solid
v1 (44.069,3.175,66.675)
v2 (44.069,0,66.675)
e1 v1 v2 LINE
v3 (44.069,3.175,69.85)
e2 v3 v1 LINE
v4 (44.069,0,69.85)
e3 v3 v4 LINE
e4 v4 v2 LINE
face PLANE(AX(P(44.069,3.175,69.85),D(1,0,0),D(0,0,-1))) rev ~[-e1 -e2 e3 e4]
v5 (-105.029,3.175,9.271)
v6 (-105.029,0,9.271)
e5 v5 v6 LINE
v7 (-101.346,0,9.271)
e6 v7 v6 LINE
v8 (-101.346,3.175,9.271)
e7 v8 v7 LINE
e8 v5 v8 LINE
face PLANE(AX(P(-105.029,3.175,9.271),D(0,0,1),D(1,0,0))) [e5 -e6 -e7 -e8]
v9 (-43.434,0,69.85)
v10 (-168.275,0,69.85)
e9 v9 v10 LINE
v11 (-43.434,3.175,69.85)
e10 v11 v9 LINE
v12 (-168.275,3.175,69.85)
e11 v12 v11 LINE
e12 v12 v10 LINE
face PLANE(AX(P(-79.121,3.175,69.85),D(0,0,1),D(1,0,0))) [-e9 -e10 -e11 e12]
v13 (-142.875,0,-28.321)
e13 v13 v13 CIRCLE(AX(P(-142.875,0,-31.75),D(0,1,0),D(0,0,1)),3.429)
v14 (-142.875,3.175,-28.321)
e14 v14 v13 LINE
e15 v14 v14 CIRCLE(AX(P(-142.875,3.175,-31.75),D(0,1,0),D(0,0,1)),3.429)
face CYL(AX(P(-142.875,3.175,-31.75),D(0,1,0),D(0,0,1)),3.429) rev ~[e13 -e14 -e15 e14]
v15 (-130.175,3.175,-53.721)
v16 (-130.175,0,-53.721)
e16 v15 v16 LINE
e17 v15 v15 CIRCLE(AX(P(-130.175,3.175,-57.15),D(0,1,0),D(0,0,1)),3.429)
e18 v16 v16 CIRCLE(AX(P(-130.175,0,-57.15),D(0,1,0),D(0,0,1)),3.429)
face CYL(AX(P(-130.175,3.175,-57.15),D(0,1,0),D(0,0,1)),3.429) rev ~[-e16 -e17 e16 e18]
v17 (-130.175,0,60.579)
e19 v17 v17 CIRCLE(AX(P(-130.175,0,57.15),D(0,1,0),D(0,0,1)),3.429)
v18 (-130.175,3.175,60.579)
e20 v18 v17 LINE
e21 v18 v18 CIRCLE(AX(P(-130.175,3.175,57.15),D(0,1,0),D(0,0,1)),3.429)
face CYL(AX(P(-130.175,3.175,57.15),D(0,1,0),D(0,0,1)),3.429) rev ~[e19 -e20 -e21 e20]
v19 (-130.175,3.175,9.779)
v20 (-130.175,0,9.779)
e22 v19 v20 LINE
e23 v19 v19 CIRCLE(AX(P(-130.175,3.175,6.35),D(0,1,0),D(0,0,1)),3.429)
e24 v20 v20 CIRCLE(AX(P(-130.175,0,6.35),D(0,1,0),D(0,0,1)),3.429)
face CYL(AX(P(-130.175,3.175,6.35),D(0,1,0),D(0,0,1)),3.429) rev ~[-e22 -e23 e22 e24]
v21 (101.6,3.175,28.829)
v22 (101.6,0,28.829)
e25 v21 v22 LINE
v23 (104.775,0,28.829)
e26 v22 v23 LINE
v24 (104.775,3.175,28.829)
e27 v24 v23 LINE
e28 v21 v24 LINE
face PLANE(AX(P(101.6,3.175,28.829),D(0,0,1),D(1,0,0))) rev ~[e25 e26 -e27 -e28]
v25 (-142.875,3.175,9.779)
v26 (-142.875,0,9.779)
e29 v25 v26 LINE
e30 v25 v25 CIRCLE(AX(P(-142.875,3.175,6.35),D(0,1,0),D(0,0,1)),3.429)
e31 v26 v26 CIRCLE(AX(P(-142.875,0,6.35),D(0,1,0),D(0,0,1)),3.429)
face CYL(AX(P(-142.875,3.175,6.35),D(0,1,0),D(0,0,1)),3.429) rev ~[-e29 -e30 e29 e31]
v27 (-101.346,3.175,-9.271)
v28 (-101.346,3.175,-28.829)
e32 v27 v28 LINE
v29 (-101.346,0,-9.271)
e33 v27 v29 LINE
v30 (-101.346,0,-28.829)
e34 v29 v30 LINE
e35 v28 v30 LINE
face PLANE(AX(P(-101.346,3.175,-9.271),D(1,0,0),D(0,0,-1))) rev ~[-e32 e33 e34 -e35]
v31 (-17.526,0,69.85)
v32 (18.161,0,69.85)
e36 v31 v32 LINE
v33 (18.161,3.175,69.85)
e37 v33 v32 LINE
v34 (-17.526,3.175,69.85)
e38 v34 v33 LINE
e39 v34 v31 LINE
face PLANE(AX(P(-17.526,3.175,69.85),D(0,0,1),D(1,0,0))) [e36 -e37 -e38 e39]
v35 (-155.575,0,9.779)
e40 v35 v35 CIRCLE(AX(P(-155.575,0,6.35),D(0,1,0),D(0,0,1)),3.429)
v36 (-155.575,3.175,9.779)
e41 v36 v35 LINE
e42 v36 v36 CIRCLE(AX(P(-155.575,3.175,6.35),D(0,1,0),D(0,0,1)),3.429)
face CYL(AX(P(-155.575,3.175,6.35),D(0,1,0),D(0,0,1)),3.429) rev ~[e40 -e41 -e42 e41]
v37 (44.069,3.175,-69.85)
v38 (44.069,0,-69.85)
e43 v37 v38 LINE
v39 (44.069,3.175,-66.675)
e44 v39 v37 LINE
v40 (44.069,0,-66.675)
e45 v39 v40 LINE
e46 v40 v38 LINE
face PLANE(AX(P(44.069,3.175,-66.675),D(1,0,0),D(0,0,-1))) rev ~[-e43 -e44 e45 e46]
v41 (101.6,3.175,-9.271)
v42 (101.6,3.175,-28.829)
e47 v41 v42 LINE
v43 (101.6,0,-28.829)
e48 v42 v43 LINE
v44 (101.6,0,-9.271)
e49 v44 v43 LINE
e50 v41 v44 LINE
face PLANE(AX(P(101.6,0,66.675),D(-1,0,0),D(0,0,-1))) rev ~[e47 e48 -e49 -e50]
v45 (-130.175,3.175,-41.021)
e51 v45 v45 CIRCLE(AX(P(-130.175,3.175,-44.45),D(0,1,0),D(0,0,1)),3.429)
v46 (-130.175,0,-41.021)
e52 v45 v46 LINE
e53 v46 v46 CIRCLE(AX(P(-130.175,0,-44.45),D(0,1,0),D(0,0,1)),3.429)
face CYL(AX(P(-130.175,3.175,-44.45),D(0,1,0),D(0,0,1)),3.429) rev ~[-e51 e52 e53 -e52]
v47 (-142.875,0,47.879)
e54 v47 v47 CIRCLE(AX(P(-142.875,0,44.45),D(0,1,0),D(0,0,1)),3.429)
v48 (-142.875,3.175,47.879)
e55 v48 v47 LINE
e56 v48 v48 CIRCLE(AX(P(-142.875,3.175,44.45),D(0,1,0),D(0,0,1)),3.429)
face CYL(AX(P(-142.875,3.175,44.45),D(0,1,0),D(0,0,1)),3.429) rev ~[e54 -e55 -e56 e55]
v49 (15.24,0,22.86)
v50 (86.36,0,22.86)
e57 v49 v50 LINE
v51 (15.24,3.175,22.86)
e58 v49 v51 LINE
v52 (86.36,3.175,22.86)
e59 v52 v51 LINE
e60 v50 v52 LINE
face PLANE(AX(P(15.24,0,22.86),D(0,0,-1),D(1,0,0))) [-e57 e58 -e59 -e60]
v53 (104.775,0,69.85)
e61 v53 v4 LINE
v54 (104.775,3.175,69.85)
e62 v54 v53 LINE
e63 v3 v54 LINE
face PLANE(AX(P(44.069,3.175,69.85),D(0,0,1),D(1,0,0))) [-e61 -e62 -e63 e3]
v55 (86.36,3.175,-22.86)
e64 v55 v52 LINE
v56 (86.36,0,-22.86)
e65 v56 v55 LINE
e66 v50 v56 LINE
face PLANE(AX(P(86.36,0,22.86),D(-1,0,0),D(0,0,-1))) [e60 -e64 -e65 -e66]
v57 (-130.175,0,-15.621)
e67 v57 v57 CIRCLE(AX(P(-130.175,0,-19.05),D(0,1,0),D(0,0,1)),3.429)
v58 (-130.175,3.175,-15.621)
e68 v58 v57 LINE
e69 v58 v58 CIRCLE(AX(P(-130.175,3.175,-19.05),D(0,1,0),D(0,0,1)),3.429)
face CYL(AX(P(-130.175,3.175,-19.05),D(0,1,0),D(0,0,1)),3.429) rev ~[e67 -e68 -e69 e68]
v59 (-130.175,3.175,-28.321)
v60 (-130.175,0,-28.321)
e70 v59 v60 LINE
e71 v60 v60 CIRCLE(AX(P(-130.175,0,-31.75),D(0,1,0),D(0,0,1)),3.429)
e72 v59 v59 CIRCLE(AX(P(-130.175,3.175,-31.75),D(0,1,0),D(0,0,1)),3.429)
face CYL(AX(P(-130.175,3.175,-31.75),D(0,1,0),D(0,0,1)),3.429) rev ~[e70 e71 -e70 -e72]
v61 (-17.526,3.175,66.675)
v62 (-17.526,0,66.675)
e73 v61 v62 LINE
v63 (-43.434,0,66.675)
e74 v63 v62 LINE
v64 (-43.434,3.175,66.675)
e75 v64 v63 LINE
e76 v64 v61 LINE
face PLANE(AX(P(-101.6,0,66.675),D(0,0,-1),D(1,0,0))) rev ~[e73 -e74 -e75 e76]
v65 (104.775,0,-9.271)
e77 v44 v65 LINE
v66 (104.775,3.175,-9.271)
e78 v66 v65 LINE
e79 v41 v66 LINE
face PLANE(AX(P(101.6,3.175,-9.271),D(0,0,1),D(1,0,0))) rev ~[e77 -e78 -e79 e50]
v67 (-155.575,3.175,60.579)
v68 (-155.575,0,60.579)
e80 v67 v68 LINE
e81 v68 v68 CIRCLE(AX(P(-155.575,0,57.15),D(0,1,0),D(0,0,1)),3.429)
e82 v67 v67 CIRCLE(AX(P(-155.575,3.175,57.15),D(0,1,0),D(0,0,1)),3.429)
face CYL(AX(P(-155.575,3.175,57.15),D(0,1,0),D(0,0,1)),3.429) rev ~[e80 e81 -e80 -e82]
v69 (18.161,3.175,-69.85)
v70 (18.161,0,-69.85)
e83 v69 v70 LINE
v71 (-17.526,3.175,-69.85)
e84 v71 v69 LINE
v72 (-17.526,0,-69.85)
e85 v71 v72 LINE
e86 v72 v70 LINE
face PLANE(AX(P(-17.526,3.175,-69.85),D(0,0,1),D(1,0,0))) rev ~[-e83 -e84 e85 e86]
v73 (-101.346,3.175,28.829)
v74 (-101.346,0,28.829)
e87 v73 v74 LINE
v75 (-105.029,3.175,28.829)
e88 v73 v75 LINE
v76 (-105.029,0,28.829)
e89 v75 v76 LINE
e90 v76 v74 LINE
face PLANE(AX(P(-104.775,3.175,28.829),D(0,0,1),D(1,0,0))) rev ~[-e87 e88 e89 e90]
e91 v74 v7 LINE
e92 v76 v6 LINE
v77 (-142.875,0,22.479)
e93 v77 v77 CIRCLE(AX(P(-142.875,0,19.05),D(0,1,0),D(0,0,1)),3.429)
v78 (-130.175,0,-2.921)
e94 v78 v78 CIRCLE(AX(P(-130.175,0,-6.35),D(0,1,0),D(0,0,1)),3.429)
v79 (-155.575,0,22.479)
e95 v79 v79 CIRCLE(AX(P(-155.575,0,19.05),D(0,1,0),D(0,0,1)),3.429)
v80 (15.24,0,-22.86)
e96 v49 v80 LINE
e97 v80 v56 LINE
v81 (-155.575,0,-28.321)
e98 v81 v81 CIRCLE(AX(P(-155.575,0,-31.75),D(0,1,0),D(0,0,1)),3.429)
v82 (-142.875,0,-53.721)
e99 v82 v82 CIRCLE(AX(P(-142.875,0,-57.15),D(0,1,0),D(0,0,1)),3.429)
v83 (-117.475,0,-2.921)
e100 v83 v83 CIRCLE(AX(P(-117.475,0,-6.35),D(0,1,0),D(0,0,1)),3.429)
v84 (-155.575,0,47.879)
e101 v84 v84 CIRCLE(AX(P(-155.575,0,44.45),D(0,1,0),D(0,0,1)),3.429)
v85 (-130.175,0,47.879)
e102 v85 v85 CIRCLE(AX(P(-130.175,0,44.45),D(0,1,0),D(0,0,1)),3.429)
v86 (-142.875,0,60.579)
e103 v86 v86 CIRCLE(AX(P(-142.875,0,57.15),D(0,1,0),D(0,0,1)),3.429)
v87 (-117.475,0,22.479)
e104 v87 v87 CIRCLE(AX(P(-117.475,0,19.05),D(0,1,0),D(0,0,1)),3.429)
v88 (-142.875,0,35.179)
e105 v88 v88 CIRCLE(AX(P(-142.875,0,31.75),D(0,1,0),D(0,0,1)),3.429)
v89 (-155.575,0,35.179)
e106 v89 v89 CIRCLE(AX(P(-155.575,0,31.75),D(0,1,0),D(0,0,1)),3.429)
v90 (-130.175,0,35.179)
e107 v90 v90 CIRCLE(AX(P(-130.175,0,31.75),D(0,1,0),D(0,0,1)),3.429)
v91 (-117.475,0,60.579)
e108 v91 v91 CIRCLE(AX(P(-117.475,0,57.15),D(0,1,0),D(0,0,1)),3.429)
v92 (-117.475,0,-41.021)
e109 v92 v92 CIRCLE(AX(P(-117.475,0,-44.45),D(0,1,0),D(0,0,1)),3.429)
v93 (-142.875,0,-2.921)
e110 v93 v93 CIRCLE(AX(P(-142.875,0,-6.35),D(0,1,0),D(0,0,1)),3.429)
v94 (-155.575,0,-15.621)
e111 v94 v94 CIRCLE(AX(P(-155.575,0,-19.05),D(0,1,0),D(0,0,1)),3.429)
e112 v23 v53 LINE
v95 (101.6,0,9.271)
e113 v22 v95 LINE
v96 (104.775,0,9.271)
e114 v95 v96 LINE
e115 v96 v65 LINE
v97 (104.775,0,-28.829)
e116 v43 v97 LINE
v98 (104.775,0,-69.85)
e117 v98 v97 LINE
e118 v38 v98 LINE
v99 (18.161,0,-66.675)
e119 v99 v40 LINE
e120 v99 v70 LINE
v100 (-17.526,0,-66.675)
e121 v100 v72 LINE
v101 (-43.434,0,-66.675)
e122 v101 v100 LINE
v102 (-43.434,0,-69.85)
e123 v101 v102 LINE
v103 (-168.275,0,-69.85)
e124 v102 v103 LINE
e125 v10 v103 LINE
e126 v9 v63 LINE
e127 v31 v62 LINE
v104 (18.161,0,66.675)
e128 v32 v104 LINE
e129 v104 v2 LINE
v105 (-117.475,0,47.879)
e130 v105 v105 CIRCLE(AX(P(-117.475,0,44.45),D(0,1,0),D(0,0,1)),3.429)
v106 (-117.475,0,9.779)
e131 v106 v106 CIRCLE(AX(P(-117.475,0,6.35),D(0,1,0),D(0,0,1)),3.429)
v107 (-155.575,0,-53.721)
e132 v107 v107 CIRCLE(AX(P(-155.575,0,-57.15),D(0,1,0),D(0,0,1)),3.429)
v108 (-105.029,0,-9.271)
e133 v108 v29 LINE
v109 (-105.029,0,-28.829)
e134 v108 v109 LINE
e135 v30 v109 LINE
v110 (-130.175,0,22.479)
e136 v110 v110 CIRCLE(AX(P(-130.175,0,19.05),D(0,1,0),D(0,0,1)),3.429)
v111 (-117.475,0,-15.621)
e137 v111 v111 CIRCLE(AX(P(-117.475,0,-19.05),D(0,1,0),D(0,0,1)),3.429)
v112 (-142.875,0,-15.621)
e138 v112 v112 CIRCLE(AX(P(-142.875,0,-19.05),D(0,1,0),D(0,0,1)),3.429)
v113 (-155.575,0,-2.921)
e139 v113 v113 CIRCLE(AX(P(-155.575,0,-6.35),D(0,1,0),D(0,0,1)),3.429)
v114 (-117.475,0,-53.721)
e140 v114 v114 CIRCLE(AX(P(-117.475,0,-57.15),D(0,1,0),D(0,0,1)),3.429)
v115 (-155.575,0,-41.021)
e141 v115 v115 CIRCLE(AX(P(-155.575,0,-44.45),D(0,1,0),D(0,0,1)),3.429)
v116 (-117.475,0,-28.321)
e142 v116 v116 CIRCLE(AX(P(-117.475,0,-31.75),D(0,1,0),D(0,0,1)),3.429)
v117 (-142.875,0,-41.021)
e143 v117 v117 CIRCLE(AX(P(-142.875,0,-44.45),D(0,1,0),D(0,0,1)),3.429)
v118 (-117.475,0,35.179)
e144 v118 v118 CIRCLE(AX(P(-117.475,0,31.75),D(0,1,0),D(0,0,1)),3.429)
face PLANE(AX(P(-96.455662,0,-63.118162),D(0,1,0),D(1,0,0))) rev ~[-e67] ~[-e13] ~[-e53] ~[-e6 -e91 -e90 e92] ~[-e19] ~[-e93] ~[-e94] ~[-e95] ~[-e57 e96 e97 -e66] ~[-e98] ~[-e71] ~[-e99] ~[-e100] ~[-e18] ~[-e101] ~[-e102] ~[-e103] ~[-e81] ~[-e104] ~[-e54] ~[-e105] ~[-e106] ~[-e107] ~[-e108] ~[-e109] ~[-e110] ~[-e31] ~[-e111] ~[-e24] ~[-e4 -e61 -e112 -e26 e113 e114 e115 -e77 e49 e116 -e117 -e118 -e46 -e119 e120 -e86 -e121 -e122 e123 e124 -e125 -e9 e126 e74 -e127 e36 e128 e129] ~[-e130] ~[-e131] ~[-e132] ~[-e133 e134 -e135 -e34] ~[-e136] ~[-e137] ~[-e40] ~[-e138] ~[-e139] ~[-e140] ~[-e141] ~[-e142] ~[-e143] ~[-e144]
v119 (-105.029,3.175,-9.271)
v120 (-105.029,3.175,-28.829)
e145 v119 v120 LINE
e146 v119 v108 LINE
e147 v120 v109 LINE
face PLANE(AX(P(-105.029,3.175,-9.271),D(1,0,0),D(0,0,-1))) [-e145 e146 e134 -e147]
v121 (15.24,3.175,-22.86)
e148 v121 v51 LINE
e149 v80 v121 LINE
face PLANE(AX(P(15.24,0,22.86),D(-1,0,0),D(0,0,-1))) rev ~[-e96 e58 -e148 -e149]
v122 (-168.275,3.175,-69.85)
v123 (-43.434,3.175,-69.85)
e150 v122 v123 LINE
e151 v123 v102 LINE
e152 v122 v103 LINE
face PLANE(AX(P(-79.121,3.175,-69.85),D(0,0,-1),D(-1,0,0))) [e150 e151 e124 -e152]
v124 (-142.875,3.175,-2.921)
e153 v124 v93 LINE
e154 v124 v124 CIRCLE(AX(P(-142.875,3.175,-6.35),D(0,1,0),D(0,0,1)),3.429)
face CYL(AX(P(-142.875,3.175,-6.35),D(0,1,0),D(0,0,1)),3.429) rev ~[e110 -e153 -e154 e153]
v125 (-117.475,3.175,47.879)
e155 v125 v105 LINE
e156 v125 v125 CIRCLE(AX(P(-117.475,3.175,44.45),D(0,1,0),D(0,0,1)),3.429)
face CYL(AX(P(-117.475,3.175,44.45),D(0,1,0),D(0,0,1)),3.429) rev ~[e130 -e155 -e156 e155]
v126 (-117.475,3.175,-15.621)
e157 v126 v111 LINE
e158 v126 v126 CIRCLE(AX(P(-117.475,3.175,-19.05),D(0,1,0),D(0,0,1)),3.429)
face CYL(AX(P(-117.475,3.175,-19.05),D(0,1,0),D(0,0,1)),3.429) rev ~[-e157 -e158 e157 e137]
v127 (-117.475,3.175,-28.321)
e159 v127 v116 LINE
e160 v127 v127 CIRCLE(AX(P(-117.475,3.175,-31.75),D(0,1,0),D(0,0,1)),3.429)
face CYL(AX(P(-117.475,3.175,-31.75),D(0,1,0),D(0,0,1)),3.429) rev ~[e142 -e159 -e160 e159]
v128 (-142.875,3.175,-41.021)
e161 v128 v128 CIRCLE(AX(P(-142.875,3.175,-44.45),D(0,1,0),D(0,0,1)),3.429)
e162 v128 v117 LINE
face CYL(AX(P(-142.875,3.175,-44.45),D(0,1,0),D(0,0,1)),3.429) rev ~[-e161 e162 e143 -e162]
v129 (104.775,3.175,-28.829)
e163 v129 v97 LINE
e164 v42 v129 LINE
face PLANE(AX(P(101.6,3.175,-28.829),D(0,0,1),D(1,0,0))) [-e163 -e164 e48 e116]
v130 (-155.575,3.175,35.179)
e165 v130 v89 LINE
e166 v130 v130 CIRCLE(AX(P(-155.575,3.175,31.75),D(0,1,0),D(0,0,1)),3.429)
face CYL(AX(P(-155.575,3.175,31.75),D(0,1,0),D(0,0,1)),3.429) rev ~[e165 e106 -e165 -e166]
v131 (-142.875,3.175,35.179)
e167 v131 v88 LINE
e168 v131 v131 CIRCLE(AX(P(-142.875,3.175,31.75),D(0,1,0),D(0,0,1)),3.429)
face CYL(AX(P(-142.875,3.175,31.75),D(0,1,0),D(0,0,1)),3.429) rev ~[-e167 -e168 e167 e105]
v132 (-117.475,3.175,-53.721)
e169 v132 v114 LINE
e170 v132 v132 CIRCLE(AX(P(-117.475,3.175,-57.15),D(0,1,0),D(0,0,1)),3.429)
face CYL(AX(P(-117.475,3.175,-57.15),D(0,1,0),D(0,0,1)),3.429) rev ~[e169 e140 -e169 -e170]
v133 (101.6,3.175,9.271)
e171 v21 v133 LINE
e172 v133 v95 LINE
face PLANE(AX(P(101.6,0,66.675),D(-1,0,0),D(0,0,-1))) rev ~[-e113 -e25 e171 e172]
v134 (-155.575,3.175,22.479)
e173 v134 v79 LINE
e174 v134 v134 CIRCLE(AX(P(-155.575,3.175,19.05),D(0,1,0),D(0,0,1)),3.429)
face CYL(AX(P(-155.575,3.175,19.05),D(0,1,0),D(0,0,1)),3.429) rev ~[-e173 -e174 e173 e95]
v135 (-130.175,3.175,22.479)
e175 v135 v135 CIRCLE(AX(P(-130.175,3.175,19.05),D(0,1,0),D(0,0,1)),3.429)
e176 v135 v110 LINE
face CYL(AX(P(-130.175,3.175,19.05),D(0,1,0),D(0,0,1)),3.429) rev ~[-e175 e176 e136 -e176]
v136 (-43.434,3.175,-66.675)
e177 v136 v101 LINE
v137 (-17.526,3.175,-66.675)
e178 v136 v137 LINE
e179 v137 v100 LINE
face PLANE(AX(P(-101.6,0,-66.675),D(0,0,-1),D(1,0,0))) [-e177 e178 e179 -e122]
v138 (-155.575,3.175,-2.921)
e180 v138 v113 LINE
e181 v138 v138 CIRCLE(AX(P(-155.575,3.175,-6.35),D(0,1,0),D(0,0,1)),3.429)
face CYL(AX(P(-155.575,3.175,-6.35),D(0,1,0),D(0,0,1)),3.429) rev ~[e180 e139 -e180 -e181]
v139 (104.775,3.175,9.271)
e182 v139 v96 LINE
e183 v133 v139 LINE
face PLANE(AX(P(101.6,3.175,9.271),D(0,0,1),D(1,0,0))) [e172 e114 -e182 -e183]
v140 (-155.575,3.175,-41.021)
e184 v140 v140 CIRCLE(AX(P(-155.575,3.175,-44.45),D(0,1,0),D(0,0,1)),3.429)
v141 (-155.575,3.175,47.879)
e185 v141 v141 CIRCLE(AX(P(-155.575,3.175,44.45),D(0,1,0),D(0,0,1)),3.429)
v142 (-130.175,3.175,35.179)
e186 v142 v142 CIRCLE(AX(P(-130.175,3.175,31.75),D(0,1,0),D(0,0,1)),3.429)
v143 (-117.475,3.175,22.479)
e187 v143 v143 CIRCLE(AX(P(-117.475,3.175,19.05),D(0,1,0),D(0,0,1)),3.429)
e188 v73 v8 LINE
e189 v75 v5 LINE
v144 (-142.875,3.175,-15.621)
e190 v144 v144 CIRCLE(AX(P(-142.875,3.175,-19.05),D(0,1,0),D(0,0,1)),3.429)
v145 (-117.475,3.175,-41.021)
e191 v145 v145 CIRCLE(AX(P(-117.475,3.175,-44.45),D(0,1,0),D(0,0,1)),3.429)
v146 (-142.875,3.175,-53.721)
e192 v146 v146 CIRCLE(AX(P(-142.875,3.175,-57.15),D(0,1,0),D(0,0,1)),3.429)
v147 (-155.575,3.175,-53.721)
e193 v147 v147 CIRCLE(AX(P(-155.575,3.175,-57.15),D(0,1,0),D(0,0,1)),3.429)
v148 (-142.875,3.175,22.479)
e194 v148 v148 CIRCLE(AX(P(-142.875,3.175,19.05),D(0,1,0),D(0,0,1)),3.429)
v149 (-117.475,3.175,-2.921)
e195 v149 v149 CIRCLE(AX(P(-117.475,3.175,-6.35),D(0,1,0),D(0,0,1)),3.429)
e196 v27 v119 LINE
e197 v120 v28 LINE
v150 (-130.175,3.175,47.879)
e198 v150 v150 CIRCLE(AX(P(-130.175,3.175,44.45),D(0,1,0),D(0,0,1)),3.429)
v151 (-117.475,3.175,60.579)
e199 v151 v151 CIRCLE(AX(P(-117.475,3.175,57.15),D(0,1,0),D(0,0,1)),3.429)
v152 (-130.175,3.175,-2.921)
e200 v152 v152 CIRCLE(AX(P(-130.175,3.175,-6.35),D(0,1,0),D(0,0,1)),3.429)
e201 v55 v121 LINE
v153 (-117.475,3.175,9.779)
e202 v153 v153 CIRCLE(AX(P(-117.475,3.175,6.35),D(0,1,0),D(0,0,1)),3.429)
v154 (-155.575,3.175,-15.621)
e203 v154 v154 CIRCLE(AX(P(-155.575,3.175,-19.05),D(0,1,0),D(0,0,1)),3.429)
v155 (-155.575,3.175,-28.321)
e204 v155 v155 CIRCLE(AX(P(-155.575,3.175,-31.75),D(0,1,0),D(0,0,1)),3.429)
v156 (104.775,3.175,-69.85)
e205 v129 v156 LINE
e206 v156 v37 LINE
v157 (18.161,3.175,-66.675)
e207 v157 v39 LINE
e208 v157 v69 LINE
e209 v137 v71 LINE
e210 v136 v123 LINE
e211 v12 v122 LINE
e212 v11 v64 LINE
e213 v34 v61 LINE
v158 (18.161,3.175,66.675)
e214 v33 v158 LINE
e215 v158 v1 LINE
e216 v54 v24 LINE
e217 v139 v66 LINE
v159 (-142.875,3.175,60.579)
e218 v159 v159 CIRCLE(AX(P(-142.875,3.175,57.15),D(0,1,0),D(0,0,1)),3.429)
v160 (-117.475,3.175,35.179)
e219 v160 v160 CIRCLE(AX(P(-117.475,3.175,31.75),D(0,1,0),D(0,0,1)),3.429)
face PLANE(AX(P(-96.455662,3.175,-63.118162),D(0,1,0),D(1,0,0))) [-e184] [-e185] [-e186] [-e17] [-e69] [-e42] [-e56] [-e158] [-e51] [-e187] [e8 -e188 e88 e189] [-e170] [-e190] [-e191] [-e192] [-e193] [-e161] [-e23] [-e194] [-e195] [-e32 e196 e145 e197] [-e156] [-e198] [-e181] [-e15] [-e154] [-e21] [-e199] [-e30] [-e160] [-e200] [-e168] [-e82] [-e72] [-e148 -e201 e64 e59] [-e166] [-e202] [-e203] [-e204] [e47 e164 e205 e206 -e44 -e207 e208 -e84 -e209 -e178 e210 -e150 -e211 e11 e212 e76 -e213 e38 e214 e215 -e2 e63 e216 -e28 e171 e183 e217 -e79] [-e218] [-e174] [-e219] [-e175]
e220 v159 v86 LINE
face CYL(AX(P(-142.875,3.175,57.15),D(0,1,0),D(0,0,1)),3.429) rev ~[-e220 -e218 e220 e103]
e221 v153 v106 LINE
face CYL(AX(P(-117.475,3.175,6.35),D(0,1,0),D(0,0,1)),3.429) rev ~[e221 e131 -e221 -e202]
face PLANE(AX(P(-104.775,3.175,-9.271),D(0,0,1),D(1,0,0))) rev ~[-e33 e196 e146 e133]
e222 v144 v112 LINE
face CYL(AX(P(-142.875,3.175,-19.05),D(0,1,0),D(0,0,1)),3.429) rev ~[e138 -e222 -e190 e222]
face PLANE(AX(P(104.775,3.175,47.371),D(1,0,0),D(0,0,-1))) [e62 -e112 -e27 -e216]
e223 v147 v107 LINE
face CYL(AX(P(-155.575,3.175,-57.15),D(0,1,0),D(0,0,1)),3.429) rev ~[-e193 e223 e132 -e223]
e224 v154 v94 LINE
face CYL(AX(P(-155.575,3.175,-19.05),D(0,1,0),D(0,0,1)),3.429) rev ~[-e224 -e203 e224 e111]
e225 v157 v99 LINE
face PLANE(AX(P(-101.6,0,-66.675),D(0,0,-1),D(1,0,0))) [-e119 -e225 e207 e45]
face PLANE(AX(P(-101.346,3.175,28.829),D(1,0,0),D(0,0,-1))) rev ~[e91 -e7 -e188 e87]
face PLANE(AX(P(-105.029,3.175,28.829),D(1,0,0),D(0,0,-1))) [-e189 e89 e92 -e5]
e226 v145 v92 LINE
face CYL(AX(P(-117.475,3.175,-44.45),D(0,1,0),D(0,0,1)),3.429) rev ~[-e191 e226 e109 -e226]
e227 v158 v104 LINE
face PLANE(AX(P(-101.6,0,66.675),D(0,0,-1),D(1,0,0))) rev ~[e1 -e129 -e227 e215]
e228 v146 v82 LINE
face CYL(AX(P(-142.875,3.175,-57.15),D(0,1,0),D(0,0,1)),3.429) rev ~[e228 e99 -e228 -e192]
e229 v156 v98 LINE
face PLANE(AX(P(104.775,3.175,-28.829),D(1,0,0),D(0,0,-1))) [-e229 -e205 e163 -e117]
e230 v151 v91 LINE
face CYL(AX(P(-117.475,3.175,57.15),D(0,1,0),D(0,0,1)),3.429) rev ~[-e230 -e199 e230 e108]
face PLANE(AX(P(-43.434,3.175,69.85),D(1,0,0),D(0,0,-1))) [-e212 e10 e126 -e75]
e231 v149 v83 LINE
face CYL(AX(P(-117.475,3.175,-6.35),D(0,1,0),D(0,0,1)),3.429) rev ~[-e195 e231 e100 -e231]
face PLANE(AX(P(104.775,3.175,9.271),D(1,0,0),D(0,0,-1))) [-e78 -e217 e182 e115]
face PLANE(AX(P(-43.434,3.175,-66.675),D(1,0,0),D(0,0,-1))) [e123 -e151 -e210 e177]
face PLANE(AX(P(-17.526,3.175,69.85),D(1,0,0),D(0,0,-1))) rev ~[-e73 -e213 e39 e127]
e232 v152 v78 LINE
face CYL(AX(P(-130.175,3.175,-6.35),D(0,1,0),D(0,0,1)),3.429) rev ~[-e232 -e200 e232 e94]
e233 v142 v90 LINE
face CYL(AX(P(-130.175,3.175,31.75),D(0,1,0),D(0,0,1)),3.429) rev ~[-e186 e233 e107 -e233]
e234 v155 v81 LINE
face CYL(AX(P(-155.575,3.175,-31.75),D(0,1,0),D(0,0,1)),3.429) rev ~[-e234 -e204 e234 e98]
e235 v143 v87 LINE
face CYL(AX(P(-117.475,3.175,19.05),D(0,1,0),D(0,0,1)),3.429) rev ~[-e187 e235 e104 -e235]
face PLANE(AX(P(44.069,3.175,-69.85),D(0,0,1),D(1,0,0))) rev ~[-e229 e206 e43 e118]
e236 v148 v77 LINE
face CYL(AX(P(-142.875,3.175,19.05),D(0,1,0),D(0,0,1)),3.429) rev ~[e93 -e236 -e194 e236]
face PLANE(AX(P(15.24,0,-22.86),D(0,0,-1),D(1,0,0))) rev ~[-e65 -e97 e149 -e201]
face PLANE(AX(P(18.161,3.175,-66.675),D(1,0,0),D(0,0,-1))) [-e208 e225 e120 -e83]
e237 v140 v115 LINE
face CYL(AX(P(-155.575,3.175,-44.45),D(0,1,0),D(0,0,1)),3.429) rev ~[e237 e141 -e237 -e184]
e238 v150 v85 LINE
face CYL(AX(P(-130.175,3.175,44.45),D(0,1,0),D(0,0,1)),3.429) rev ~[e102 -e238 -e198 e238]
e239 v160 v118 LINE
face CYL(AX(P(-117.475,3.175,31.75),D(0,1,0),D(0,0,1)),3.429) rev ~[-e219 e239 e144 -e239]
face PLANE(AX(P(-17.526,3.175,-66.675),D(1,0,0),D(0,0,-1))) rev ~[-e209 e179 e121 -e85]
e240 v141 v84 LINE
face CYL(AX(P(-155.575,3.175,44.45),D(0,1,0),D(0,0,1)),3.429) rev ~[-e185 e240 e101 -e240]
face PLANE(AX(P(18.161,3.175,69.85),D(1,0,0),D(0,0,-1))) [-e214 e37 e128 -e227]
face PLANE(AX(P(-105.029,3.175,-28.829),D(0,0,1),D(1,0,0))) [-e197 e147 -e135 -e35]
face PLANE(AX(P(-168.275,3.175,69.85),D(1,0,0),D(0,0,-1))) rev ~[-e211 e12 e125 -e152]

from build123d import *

# Parameters (mm, degrees)
SKETCH1_W           = 203.2
SKETCH1_H           = 133.35
BOSS_EXTRUDE1_DEPTH = 3.175
SKETCH3_W           = 35.687
SKETCH3_H           = 3.175
BOSS_EXTRUDE2_DEPTH = 3.175
SKETCH4_W           = 3.175
SKETCH4_H           = 18.542
BOSS_EXTRUDE3_DEPTH = 3.175
SKETCH5_W           = 63.5
SKETCH5_H           = 139.7
SKETCH5_R           = 3.429
BOSS_EXTRUDE4_DEPTH = 3.175
BOSS_EXTRUDE5_DEPTH = 3.175
SKETCH7_W           = 3.683
SKETCH7_H           = 19.558
CUT_EXTRUDE1_DEPTH  = 183.223979624
SKETCH8_W           = 71.12
SKETCH8_H           = 45.72
CUT_EXTRUDE4_DEPTH  = 183.223979624


with BuildPart() as part:
    # Sketch1 → Boss-Extrude1 (new body)
    with BuildSketch(Plane(origin=(0, 0, 0), x_dir=(1, 0, 0), z_dir=(0, 1, 0))):
        Rectangle(SKETCH1_W, SKETCH1_H)
    extrude(amount=BOSS_EXTRUDE1_DEPTH)

    # Sketch3 → Boss-Extrude2 (add)
    with BuildSketch(Plane(origin=(0, 3.175, 0), x_dir=(1, 0, 0), z_dir=(0, 1, 0))):
        with Locations((-61.2775, 68.2625)):
            Rectangle(SKETCH3_W, SKETCH3_H)
        with Locations((0.3175, 68.2625)):
            Rectangle(SKETCH3_W, SKETCH3_H)
        with Locations((61.9125, 68.2625)):
            Rectangle(SKETCH3_W, SKETCH3_H)
        with Locations((61.9125, -68.2625)):
            Rectangle(SKETCH3_W, SKETCH3_H)
        with Locations((0.3175, -68.2625)):
            Rectangle(SKETCH3_W, SKETCH3_H)
        with Locations((-61.2775, -68.2625)):
            Rectangle(SKETCH3_W, SKETCH3_H)
    extrude(amount=-BOSS_EXTRUDE2_DEPTH)

    # Sketch4 → Boss-Extrude3 (add)
    with BuildSketch(Plane(origin=(0, 3.175, 0), x_dir=(1, 0, 0), z_dir=(0, 1, 0))):
        with Locations((-103.1875, 38.1)):
            Rectangle(SKETCH4_W, SKETCH4_H)
        with Locations((-103.1875, 0)):
            Rectangle(SKETCH4_W, SKETCH4_H)
        with Locations((-103.1875, -38.1)):
            Rectangle(SKETCH4_W, SKETCH4_H)
        with Locations((103.1875, -38.1)):
            Rectangle(SKETCH4_W, SKETCH4_H)
        with Locations((103.1875, 0)):
            Rectangle(SKETCH4_W, SKETCH4_H)
        with Locations((103.1875, 38.1)):
            Rectangle(SKETCH4_W, SKETCH4_H)
    extrude(amount=-BOSS_EXTRUDE3_DEPTH)

    # Sketch5 → Boss-Extrude4 (add)
    with BuildSketch(Plane(origin=(0, 3.175, 0), x_dir=(1, 0, 0), z_dir=(0, 1, 0))):
        with Locations((-136.525, 0)):
            Rectangle(SKETCH5_W, SKETCH5_H)
        with Locations(Location((-117.475, 57.15, 0), (0, 0, 270))):
            Circle(SKETCH5_R, mode=Mode.SUBTRACT)
        with Locations(Location((-130.175, 57.15, 0), (0, 0, 270))):
            Circle(SKETCH5_R, mode=Mode.SUBTRACT)
        with Locations(Location((-142.875, 57.15, 0), (0, 0, 270))):
            Circle(SKETCH5_R, mode=Mode.SUBTRACT)
        with Locations(Location((-155.575, 57.15, 0), (0, 0, 270))):
            Circle(SKETCH5_R, mode=Mode.SUBTRACT)
        with Locations(Location((-130.175, 44.45, 0), (0, 0, 270))):
            Circle(SKETCH5_R, mode=Mode.SUBTRACT)
        with Locations(Location((-142.875, 44.45, 0), (0, 0, 270))):
            Circle(SKETCH5_R, mode=Mode.SUBTRACT)
        with Locations(Location((-155.575, 44.45, 0), (0, 0, 270))):
            Circle(SKETCH5_R, mode=Mode.SUBTRACT)
        with Locations(Location((-130.175, 31.75, 0), (0, 0, 270))):
            Circle(SKETCH5_R, mode=Mode.SUBTRACT)
        with Locations(Location((-142.875, 31.75, 0), (0, 0, 270))):
            Circle(SKETCH5_R, mode=Mode.SUBTRACT)
        with Locations(Location((-155.575, 31.75, 0), (0, 0, 270))):
            Circle(SKETCH5_R, mode=Mode.SUBTRACT)
        with Locations(Location((-130.175, 19.05, 0), (0, 0, 270))):
            Circle(SKETCH5_R, mode=Mode.SUBTRACT)
        with Locations(Location((-142.875, 19.05, 0), (0, 0, 270))):
            Circle(SKETCH5_R, mode=Mode.SUBTRACT)
        with Locations(Location((-155.575, 19.05, 0), (0, 0, 270))):
            Circle(SKETCH5_R, mode=Mode.SUBTRACT)
        with Locations(Location((-130.175, 6.35, 0), (0, 0, 270))):
            Circle(SKETCH5_R, mode=Mode.SUBTRACT)
        with Locations(Location((-142.875, 6.35, 0), (0, 0, 270))):
            Circle(SKETCH5_R, mode=Mode.SUBTRACT)
        with Locations(Location((-155.575, 6.35, 0), (0, 0, 270))):
            Circle(SKETCH5_R, mode=Mode.SUBTRACT)
        with Locations(Location((-130.175, -6.35, 0), (0, 0, 270))):
            Circle(SKETCH5_R, mode=Mode.SUBTRACT)
        with Locations(Location((-142.875, -6.35, 0), (0, 0, 270))):
            Circle(SKETCH5_R, mode=Mode.SUBTRACT)
        with Locations(Location((-155.575, -6.35, 0), (0, 0, 270))):
            Circle(SKETCH5_R, mode=Mode.SUBTRACT)
        with Locations(Location((-130.175, -19.05, 0), (0, 0, 270))):
            Circle(SKETCH5_R, mode=Mode.SUBTRACT)
        with Locations(Location((-142.875, -19.05, 0), (0, 0, 270))):
            Circle(SKETCH5_R, mode=Mode.SUBTRACT)
        with Locations(Location((-155.575, -19.05, 0), (0, 0, 270))):
            Circle(SKETCH5_R, mode=Mode.SUBTRACT)
        with Locations(Location((-130.175, -31.75, 0), (0, 0, 270))):
            Circle(SKETCH5_R, mode=Mode.SUBTRACT)
        with Locations(Location((-142.875, -31.75, 0), (0, 0, 270))):
            Circle(SKETCH5_R, mode=Mode.SUBTRACT)
        with Locations(Location((-155.575, -31.75, 0), (0, 0, 270))):
            Circle(SKETCH5_R, mode=Mode.SUBTRACT)
        with Locations(Location((-130.175, -44.45, 0), (0, 0, 270))):
            Circle(SKETCH5_R, mode=Mode.SUBTRACT)
        with Locations(Location((-142.875, -44.45, 0), (0, 0, 270))):
            Circle(SKETCH5_R, mode=Mode.SUBTRACT)
        with Locations(Location((-155.575, -44.45, 0), (0, 0, 270))):
            Circle(SKETCH5_R, mode=Mode.SUBTRACT)
        with Locations(Location((-130.175, -57.15, 0), (0, 0, 270))):
            Circle(SKETCH5_R, mode=Mode.SUBTRACT)
        with Locations(Location((-142.875, -57.15, 0), (0, 0, 270))):
            Circle(SKETCH5_R, mode=Mode.SUBTRACT)
        with Locations(Location((-155.575, -57.15, 0), (0, 0, 270))):
            Circle(SKETCH5_R, mode=Mode.SUBTRACT)
        with Locations(Location((-117.475, 44.45, 0), (0, 0, 270))):
            Circle(SKETCH5_R, mode=Mode.SUBTRACT)
        with Locations(Location((-117.475, 31.75, 0), (0, 0, 270))):
            Circle(SKETCH5_R, mode=Mode.SUBTRACT)
        with Locations(Location((-117.475, 19.05, 0), (0, 0, 270))):
            Circle(SKETCH5_R, mode=Mode.SUBTRACT)
        with Locations(Location((-117.475, 6.35, 0), (0, 0, 270))):
            Circle(SKETCH5_R, mode=Mode.SUBTRACT)
        with Locations(Location((-117.475, -6.35, 0), (0, 0, 270))):
            Circle(SKETCH5_R, mode=Mode.SUBTRACT)
        with Locations(Location((-117.475, -19.05, 0), (0, 0, 270))):
            Circle(SKETCH5_R, mode=Mode.SUBTRACT)
        with Locations(Location((-117.475, -31.75, 0), (0, 0, 270))):
            Circle(SKETCH5_R, mode=Mode.SUBTRACT)
        with Locations(Location((-117.475, -44.45, 0), (0, 0, 270))):
            Circle(SKETCH5_R, mode=Mode.SUBTRACT)
        with Locations(Location((-117.475, -57.15, 0), (0, 0, 270))):
            Circle(SKETCH5_R, mode=Mode.SUBTRACT)
    extrude(amount=-BOSS_EXTRUDE4_DEPTH)

    # Sketch6 → Boss-Extrude5 (add)
    with BuildSketch(Plane(origin=(0, 3.175, 0), x_dir=(1, 0, 0), z_dir=(0, 1, 0))):
        Polygon((-79.121, 66.675), (-79.121, 69.85), (-104.775, 69.85), (-104.775, 58.6105), (-104.775, 47.371), (-101.6, 47.371), (-101.6, 66.675), align=None)
        Polygon((-104.775, -47.371), (-104.775, -58.6105), (-104.775, -69.85), (-79.121, -69.85), (-79.121, -66.675), (-101.6, -66.675), (-101.6, -47.371), align=None)
        Polygon((79.121, -66.675), (79.121, -69.85), (104.775, -69.85), (104.775, -58.6105), (104.775, -47.371), (101.6, -47.371), (101.6, -66.675), align=None)
        Polygon((104.775, 47.371), (104.775, 58.6105), (104.775, 69.85), (79.121, 69.85), (79.121, 66.675), (101.6, 66.675), (101.6, 47.371), align=None)
    extrude(amount=-BOSS_EXTRUDE5_DEPTH)

    # Sketch7 → Cut-Extrude1 (cut, through all)
    with BuildSketch(Plane(origin=(0, 3.175, 0), x_dir=(1, 0, 0), z_dir=(0, 1, 0))):
        with Locations((-103.1875, 19.05)):
            Rectangle(SKETCH7_W, SKETCH7_H)
        with Locations((-103.1875, -19.05)):
            Rectangle(SKETCH7_W, SKETCH7_H)
    extrude(amount=-CUT_EXTRUDE1_DEPTH, mode=Mode.SUBTRACT)

    # Sketch8 → Cut-Extrude4 (cut, through all)
    with BuildSketch(Plane(origin=(0, 0, 0), x_dir=(1, 0, 0), z_dir=(0, 1, 0))):
        with Locations((50.8, 0)):
            Rectangle(SKETCH8_W, SKETCH8_H)
    extrude(amount=CUT_EXTRUDE4_DEPTH, mode=Mode.SUBTRACT)


solid = part.part
